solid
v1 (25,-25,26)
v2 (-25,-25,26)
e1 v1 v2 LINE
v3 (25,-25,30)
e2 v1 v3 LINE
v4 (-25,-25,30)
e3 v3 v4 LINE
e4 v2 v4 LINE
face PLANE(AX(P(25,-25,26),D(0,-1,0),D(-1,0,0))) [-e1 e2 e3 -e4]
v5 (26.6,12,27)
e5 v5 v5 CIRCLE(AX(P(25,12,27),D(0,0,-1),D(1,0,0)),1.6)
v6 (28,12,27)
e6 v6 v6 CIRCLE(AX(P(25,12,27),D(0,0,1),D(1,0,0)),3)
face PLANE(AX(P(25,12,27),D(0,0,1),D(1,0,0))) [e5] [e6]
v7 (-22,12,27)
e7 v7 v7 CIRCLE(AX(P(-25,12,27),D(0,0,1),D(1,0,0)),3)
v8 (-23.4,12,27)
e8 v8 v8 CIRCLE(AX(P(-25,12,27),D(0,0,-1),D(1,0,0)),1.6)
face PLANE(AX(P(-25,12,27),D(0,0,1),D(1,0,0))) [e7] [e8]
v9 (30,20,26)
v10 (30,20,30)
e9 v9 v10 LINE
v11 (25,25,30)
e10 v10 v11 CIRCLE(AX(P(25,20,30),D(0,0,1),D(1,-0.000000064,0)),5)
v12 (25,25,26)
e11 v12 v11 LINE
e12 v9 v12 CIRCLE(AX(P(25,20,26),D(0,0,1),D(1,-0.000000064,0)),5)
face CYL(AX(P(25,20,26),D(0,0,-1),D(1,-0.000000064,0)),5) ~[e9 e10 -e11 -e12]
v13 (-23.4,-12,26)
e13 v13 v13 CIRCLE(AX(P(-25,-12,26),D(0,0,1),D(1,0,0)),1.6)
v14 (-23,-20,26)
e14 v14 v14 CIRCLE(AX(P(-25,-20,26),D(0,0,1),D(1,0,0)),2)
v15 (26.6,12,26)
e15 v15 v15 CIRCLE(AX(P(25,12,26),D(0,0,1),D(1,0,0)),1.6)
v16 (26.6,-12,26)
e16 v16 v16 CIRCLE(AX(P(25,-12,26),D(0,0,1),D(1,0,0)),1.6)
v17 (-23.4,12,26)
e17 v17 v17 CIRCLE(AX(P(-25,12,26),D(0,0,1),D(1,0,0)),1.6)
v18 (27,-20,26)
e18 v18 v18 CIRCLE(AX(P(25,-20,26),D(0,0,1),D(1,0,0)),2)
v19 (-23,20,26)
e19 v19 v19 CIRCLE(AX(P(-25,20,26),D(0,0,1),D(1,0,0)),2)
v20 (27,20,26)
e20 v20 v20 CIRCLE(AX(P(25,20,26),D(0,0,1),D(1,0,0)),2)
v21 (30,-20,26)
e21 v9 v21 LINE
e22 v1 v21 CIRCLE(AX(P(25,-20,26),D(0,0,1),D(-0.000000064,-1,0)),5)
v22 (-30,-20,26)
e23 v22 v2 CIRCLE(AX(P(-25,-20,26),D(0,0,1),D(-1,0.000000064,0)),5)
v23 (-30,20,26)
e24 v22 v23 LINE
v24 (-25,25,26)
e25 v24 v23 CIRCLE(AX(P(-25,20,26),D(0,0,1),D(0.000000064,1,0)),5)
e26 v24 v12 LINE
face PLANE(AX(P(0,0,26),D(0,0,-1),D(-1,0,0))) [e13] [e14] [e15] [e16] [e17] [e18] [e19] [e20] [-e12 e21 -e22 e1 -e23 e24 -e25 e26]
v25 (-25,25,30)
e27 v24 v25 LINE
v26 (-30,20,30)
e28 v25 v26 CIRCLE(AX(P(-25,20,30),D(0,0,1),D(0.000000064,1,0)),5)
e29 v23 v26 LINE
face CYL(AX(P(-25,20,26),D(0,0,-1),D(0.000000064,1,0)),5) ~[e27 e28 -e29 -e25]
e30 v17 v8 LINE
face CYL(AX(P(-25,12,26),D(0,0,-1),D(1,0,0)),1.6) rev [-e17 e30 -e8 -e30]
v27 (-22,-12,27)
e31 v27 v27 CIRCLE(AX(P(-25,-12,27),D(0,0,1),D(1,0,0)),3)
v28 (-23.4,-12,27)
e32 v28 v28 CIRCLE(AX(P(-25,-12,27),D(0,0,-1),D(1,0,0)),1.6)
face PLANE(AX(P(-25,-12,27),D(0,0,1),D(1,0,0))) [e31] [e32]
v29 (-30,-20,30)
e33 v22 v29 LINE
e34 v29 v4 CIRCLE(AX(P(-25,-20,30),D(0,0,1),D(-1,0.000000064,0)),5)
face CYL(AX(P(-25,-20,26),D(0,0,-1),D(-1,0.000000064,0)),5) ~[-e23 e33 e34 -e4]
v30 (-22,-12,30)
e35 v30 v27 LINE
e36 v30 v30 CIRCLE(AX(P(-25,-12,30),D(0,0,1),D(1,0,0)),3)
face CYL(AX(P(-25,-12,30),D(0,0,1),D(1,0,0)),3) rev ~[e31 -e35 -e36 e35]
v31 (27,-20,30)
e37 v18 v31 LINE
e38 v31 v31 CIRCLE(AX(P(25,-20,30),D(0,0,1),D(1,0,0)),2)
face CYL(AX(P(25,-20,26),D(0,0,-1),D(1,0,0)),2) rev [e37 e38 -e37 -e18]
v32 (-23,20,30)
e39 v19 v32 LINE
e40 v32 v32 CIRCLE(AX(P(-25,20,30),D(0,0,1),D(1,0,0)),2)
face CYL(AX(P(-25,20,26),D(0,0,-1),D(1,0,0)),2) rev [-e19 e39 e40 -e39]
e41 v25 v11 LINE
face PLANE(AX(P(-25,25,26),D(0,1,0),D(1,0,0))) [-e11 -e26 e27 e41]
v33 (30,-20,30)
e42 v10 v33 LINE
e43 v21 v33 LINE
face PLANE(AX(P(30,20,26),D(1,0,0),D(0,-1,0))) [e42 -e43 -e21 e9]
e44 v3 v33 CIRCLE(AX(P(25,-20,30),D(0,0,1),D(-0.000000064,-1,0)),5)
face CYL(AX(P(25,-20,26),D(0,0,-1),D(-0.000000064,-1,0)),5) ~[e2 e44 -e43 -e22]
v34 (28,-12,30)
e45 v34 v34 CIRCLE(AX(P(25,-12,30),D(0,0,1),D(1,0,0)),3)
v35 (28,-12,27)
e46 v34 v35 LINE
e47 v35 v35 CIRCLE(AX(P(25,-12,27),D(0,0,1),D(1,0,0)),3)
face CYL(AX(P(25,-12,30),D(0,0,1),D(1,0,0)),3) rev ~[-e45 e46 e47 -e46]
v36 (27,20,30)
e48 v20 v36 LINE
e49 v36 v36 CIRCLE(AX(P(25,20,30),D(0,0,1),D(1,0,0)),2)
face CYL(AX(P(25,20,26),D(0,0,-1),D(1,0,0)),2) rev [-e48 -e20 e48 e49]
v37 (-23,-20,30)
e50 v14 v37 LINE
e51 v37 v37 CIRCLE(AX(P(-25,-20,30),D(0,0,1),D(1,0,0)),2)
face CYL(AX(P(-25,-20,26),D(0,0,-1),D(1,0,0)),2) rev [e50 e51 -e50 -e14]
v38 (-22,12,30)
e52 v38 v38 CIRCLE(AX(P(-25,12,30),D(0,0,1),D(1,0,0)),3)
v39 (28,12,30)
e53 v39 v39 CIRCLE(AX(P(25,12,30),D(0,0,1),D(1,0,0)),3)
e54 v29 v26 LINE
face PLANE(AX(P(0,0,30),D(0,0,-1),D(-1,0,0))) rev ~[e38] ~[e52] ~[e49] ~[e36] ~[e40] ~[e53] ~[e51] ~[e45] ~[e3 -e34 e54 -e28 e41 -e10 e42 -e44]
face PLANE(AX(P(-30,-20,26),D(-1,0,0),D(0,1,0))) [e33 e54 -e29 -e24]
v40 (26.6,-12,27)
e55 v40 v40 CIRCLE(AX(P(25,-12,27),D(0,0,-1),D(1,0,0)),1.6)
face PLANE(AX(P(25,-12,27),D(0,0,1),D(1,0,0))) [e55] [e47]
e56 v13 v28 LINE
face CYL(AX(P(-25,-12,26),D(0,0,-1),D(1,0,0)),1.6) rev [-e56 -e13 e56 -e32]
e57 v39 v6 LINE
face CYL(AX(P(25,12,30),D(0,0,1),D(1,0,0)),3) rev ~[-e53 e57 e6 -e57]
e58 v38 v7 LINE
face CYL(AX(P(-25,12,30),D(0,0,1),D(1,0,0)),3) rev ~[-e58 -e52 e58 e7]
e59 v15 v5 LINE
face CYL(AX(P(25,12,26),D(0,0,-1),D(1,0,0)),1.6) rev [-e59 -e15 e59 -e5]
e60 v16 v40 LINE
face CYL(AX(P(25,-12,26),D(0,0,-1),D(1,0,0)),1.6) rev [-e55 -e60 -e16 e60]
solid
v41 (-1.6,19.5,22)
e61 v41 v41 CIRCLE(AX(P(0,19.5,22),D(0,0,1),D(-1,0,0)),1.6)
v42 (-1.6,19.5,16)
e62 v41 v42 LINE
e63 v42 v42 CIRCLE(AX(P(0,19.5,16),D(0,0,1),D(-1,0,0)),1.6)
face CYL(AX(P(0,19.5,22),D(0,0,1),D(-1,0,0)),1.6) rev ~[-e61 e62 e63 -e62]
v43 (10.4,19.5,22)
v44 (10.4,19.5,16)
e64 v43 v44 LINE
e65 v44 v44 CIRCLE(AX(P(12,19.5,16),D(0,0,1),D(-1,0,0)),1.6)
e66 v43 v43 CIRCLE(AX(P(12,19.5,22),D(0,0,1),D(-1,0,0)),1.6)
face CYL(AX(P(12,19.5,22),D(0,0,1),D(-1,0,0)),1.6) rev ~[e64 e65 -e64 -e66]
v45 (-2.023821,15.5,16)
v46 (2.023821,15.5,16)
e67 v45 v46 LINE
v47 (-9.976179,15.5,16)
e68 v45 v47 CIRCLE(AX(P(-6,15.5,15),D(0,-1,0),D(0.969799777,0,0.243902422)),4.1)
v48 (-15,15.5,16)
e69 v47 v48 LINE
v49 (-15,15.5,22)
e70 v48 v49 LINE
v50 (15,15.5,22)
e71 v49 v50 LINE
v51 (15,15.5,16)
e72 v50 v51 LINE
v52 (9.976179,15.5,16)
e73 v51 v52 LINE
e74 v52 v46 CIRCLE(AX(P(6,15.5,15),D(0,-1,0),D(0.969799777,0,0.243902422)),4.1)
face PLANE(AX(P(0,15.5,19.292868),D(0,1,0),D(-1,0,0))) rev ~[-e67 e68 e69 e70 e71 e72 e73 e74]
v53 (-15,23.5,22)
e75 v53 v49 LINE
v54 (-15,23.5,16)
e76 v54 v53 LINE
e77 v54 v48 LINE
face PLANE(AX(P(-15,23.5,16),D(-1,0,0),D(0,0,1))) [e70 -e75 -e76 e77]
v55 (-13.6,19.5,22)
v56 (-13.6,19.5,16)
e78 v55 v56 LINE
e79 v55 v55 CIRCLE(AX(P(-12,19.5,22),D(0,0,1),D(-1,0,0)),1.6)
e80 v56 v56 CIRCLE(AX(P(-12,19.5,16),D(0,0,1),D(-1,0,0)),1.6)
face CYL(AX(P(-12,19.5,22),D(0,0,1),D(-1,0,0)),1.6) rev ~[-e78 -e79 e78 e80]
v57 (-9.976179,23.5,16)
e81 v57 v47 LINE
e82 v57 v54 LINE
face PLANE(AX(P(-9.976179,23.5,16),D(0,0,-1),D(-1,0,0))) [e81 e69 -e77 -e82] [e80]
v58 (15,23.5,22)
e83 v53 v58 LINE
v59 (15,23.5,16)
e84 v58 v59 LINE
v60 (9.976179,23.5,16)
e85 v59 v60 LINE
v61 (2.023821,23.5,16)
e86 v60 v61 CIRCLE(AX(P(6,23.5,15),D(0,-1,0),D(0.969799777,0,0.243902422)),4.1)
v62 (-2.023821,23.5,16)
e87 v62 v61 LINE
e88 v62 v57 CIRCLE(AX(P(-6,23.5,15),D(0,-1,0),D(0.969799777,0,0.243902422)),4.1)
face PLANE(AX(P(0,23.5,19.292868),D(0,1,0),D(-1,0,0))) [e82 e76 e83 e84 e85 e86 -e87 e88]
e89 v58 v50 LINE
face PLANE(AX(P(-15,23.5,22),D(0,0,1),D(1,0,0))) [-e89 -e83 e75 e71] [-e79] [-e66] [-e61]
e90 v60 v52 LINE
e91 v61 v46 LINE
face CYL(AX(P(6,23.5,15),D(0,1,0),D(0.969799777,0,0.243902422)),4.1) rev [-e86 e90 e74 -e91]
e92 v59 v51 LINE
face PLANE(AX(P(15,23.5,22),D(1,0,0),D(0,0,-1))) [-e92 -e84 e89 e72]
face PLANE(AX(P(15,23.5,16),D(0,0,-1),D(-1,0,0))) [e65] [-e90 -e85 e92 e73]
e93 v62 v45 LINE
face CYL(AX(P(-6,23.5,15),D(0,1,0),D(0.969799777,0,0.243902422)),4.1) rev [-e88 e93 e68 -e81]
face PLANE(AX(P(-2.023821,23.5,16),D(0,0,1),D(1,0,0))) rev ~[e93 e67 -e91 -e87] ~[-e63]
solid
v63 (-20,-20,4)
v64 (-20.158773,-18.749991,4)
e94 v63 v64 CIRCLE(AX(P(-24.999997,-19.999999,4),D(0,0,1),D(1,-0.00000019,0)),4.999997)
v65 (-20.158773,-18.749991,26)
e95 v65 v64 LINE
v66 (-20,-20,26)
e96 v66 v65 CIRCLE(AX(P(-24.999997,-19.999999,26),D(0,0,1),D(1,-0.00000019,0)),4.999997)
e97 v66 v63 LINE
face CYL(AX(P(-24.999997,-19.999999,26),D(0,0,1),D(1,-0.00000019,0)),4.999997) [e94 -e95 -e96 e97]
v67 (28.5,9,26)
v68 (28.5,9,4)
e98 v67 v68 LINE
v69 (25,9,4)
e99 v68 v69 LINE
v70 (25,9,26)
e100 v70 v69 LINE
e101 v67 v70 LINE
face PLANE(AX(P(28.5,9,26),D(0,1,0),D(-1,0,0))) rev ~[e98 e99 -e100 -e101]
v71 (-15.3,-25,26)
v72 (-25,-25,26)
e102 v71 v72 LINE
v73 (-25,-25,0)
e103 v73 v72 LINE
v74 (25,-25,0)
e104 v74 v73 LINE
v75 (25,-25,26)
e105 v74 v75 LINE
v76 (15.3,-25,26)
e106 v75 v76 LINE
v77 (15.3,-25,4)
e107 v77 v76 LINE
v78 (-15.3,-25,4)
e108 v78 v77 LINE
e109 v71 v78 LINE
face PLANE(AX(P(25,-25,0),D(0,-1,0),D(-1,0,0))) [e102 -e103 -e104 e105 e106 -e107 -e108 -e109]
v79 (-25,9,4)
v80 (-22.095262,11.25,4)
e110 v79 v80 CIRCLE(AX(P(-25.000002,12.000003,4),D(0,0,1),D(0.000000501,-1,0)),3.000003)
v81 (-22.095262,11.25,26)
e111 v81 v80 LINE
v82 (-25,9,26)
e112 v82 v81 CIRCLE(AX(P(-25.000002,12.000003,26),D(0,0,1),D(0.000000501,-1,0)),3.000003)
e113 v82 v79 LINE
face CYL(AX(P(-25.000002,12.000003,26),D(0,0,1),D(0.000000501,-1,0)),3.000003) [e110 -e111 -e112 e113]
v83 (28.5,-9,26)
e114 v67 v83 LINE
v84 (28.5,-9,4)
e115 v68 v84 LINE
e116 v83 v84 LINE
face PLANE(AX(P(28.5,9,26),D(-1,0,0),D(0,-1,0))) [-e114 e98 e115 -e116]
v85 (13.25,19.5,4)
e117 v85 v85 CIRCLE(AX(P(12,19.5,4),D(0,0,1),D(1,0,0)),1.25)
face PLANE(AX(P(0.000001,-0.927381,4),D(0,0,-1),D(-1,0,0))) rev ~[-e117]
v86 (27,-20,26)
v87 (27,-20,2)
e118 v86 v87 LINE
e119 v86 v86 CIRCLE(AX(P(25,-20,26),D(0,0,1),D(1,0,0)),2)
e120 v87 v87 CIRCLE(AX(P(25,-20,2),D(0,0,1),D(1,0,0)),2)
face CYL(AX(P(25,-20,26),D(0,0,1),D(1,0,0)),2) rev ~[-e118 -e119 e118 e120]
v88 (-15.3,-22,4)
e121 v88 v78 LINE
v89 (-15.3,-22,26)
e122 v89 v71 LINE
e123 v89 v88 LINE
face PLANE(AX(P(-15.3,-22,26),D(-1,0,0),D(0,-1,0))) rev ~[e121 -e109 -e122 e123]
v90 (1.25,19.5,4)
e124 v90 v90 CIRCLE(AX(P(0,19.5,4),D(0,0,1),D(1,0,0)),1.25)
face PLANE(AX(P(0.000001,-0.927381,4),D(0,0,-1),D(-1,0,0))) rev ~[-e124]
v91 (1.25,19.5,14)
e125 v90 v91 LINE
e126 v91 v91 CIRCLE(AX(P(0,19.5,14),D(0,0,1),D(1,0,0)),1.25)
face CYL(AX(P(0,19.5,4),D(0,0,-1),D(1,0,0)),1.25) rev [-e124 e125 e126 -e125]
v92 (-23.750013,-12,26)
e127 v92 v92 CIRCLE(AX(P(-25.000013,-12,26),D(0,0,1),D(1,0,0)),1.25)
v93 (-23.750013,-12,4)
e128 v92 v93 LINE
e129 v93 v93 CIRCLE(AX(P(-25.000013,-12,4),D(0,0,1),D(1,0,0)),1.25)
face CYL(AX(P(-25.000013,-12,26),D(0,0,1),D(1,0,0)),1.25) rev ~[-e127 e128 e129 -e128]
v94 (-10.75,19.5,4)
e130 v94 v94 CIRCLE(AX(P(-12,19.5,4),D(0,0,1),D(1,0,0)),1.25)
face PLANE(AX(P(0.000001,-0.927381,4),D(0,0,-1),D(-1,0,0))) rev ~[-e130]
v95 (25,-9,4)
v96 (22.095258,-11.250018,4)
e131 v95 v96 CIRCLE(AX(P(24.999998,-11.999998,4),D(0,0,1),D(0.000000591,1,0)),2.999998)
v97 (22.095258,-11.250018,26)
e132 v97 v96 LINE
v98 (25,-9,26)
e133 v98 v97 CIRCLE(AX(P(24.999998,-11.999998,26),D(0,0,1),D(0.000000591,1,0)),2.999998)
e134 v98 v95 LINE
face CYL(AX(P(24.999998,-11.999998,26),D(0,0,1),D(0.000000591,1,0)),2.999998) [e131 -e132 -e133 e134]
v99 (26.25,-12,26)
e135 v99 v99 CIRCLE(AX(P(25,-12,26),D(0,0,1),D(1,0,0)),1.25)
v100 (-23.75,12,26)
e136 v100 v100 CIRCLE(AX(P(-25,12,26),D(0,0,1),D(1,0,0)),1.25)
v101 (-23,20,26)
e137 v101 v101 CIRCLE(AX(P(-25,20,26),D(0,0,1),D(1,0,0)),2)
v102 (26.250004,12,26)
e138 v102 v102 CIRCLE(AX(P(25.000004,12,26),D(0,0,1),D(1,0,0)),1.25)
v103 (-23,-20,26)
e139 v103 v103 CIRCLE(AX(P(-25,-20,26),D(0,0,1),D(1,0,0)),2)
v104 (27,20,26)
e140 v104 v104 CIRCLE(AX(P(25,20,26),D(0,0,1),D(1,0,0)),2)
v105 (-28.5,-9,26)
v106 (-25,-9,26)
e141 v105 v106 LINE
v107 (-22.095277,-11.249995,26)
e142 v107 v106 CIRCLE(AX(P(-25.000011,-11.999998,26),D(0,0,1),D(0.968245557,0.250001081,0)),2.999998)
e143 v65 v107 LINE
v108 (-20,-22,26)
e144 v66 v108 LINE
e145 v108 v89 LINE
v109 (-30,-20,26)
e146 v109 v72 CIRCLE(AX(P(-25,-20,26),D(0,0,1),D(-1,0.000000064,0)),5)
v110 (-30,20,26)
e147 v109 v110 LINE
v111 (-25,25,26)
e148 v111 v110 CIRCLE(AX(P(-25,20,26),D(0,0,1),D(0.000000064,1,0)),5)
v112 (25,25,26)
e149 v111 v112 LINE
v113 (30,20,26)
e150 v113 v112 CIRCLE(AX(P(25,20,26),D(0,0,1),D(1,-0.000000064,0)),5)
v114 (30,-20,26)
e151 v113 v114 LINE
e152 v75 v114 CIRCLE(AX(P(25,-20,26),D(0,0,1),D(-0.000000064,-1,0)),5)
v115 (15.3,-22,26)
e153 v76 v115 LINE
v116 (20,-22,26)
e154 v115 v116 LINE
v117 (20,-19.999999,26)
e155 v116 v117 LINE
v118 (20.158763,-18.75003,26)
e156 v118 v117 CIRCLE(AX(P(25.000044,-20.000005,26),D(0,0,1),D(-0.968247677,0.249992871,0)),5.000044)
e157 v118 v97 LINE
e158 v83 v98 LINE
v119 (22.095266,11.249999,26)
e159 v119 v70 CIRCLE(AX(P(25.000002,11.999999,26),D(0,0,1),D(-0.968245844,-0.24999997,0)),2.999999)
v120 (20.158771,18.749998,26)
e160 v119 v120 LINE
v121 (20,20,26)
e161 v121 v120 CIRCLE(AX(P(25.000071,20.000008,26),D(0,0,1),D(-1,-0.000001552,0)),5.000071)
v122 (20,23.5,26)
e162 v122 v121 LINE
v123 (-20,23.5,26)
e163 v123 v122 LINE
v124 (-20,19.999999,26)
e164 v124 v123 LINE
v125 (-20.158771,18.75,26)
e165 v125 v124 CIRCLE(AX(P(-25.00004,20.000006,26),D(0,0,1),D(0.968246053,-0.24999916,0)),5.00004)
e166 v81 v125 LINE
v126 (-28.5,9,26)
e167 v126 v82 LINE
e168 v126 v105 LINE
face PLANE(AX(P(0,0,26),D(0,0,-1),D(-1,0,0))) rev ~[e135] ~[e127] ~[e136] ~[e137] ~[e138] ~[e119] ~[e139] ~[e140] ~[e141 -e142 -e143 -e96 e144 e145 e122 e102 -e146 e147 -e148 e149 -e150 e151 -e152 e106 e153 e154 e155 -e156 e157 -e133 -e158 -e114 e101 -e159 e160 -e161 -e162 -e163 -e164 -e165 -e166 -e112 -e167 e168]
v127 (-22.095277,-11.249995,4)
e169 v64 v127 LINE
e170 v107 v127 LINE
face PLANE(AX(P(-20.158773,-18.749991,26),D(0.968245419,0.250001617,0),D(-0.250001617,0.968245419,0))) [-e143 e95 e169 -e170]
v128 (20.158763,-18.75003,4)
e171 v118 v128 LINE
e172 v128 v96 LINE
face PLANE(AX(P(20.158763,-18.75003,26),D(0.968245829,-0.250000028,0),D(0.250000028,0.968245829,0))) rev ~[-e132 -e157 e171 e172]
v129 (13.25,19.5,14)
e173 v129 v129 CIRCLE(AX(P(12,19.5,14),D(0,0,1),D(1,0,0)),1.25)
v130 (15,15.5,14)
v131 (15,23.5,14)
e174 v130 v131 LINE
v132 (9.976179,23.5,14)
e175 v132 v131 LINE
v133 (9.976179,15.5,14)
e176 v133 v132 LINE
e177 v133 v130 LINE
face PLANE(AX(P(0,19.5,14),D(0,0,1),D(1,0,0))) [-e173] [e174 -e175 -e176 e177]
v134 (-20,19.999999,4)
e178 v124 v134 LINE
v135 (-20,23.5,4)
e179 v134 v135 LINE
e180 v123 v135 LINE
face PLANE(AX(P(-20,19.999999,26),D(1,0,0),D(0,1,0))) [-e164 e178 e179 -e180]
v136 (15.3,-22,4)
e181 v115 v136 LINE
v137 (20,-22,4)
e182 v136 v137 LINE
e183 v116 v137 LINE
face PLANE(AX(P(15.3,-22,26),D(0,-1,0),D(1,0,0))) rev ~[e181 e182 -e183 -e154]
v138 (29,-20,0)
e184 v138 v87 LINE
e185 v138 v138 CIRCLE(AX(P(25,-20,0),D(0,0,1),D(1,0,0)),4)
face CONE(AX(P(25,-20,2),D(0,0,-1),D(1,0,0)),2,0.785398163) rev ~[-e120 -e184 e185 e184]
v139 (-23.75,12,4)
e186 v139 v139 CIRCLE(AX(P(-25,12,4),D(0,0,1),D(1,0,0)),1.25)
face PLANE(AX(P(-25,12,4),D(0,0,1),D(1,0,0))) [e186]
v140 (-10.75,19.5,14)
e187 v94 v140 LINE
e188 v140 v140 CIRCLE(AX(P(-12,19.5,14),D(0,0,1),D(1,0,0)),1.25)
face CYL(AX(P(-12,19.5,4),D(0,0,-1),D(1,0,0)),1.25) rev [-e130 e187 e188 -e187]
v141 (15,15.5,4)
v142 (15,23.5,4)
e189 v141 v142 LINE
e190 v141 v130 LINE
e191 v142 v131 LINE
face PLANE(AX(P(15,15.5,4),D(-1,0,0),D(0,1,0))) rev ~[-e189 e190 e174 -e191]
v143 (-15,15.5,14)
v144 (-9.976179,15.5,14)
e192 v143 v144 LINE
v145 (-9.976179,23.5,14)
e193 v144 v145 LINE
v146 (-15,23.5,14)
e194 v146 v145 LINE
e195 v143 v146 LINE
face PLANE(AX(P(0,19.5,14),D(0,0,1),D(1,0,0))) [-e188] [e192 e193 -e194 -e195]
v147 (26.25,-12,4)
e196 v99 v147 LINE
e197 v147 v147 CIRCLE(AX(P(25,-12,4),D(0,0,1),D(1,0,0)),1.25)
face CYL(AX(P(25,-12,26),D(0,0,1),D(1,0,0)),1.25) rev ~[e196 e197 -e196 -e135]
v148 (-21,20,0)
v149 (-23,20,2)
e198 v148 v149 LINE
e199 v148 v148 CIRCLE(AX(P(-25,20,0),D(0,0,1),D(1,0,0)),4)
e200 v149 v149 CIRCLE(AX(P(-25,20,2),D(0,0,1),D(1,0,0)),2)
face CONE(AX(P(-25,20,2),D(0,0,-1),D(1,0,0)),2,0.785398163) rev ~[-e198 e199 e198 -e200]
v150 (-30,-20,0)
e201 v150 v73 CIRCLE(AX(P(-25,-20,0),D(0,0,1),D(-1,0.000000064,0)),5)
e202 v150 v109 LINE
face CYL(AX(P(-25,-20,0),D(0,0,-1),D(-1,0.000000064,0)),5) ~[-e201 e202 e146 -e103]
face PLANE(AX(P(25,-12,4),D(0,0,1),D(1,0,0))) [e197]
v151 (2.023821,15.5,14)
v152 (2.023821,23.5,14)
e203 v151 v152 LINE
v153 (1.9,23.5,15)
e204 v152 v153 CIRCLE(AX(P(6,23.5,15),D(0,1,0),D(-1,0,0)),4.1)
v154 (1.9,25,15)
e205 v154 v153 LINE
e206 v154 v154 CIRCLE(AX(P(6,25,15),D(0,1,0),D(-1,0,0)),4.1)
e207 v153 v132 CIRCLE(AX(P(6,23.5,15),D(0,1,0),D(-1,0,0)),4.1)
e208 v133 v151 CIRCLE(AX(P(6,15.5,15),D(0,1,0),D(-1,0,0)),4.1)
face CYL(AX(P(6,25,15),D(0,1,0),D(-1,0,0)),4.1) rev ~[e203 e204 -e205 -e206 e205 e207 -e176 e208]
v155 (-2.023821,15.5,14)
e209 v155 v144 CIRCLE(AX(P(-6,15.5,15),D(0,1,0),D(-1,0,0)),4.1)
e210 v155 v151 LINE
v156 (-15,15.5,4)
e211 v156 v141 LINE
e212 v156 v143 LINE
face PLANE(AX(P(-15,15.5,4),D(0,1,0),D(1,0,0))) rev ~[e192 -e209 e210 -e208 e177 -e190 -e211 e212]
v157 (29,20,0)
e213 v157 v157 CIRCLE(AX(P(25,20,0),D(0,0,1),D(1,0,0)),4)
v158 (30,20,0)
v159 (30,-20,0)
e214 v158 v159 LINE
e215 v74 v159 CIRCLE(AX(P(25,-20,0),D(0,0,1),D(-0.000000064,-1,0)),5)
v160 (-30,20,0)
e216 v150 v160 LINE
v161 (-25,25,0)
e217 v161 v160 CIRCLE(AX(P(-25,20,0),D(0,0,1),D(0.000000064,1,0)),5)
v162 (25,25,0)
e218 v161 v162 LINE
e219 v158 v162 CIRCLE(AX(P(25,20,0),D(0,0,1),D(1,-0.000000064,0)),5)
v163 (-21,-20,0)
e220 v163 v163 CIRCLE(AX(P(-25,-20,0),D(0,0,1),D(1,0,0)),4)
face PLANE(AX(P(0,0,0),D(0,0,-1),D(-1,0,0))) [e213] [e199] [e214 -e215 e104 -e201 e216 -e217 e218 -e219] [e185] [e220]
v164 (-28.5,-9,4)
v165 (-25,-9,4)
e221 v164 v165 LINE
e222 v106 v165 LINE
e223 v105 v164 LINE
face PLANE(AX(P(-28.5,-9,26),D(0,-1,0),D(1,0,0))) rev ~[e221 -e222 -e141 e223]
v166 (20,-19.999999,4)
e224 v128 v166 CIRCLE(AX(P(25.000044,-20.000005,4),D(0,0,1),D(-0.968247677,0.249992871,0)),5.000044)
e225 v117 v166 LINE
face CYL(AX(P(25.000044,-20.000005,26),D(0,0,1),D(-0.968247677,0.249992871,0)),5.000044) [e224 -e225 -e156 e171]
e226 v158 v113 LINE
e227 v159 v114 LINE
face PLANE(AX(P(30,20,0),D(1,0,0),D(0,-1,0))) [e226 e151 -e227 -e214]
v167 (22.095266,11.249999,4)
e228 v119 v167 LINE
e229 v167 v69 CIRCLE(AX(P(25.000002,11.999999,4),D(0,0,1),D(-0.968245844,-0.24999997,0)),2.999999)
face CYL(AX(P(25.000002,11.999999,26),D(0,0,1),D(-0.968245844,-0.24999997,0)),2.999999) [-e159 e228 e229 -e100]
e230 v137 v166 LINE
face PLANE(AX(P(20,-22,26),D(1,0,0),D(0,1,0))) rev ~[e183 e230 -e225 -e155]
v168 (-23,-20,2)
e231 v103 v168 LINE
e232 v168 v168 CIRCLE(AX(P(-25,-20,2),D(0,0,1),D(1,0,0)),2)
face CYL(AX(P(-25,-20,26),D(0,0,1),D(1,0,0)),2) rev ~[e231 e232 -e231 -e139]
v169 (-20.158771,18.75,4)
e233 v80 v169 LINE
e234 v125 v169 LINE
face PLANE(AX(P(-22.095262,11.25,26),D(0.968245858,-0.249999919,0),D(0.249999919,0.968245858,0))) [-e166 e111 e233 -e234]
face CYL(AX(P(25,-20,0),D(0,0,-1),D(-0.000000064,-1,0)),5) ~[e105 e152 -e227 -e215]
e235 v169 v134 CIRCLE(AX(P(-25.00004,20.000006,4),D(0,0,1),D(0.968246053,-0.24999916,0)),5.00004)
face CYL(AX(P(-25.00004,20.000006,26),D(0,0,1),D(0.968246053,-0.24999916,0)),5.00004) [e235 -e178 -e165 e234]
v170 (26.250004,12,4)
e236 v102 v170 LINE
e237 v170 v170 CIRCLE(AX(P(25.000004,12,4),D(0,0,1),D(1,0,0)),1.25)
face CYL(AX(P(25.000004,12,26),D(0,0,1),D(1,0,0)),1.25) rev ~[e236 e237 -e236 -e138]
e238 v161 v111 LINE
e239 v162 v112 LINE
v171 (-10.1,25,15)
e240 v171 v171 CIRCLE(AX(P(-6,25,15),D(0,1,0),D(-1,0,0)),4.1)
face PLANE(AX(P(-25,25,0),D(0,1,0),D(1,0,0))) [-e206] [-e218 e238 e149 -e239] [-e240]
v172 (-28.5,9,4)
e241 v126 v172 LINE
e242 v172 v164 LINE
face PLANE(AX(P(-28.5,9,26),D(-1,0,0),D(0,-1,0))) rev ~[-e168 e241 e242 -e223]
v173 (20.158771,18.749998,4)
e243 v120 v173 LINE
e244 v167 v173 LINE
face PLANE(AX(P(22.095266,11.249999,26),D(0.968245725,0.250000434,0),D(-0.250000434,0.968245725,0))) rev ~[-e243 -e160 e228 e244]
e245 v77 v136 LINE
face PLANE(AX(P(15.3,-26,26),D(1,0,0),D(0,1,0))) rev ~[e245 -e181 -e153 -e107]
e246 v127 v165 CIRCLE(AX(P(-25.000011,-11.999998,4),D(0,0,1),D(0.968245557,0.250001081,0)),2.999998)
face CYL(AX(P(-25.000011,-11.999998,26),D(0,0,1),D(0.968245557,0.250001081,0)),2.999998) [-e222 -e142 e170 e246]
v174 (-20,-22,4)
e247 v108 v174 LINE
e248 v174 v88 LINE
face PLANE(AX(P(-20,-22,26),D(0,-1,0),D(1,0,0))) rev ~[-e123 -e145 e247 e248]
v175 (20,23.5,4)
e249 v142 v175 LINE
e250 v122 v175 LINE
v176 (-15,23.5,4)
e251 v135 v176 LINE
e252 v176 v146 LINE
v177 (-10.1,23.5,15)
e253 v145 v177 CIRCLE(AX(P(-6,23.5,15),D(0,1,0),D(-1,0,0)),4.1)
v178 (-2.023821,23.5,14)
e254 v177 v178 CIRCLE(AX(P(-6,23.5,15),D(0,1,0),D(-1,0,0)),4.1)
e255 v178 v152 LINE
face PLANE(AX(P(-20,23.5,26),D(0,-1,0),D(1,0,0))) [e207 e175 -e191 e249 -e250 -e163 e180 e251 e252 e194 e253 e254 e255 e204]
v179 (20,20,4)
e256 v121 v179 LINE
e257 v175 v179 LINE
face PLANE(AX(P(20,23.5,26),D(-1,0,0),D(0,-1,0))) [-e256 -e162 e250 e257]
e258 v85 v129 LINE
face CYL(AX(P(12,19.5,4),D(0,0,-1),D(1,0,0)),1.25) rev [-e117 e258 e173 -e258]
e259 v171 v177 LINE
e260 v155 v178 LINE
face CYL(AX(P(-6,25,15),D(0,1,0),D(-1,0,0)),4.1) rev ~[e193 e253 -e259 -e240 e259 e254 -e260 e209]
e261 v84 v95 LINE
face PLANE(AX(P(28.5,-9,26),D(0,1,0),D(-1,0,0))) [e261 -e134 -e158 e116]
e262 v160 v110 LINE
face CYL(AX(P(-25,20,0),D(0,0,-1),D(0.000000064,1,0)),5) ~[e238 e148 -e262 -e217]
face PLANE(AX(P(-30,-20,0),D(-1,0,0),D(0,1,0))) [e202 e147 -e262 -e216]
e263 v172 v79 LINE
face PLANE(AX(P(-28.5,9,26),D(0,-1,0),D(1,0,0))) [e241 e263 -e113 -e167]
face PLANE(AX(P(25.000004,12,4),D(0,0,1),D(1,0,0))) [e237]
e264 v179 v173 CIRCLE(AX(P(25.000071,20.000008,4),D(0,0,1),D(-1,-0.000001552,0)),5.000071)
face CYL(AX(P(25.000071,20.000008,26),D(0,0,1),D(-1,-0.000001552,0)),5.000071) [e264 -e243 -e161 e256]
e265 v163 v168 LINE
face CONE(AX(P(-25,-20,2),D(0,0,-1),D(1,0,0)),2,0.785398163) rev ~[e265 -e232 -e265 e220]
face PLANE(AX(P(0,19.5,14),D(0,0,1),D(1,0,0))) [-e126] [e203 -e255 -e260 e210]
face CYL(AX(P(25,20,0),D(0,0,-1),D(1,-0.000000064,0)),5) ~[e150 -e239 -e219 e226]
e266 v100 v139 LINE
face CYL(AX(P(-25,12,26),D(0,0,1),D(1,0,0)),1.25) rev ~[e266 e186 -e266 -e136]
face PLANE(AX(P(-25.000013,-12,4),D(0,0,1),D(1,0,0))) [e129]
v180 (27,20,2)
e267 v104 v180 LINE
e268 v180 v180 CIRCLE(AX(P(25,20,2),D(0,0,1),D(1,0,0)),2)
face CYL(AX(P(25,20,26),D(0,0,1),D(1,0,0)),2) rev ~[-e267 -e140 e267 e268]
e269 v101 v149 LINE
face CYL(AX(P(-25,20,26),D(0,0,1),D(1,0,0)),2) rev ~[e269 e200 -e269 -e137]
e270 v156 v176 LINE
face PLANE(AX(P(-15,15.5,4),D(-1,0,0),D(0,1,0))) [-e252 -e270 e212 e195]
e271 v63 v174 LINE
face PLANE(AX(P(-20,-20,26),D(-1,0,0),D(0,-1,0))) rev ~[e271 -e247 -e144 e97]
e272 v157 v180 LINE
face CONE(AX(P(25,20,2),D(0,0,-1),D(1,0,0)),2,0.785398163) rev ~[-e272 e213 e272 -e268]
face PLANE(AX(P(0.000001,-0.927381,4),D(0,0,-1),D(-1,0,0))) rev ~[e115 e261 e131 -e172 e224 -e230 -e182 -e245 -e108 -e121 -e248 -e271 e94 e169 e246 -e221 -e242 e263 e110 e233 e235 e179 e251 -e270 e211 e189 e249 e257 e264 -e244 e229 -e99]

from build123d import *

# Parameters (mm, degrees)
PAD002_DEPTH    = 8
SKETCH006_R     = 1.6
POCKET003_DEPTH = 6.001
SKETCH007_R     = 2
SKETCH007_R_2   = 1.6
PAD003_DEPTH    = 4
SKETCH008_R     = 3
POCKET004_DEPTH = 3
PAD_DEPTH       = 26
SKETCH001_R     = 2
POCKET_DEPTH    = 26.001
SKETCH002_R     = 1.25
POCKET001_DEPTH = 22
SKETCH003_W     = 30
SKETCH003_H     = 8
SKETCH003_R     = 1.25
PAD001_DEPTH    = 10
SKETCH004_R     = 4.1
POCKET002_DEPTH = 11
CHAMFER_SIZE    = 2


with BuildPart() as f_2_screwholes_pocket:
    # Sketch005 → Pad002 (new body)
    with BuildSketch(Plane.XZ.offset(-23.5)):
        with BuildLine():
            ThreePointArc((-2.023821, 16), (-6, 19.1), (-9.976179, 16))
            Line((-9.976179, 16), (-15, 16))
            Line((-15, 16), (-15, 22))
            Line((-15, 22), (15, 22))
            Line((15, 22), (15, 16))
            Line((15, 16), (9.976179, 16))
            ThreePointArc((9.976179, 16), (6, 19.1), (2.023821, 16))
            Line((-2.023821, 16), (2.023821, 16))
        make_face()
    extrude(amount=PAD002_DEPTH)

    # Sketch006 → Pocket003 (cut, through all)
    with BuildSketch(Plane(origin=(0, 23.5, 22), x_dir=(-1, 0, 0), z_dir=(0, 0, 1))):
        with Locations((-12, 4)):
            Circle(SKETCH006_R)
        with Locations((0, 4)):
            Circle(SKETCH006_R)
        with Locations((12, 4)):
            Circle(SKETCH006_R)
    extrude(amount=-POCKET003_DEPTH, mode=Mode.SUBTRACT)


with BuildPart() as f_2_screwcounterborehole_pocket:
    # Sketch007 → Pad003 (new body)
    with BuildSketch(Plane.XY.offset(26)):
        with BuildLine():
            Line((-25, 25), (25, 25))
            ThreePointArc((30, 20), (28.535534, 23.535534), (25, 25))
            Line((30, 20), (30, -20))
            ThreePointArc((25, -25), (28.535534, -23.535534), (30, -20))
            Line((25, -25), (-25, -25))
            ThreePointArc((-30, -20), (-28.535534, -23.535534), (-25, -25))
            Line((-30, -20), (-30, 20))
            ThreePointArc((-25, 25), (-28.535534, 23.535534), (-30, 20))
        make_face()
        with Locations((-25, 20)):
            Circle(SKETCH007_R, mode=Mode.SUBTRACT)
        with Locations((-25, -20)):
            Circle(SKETCH007_R, mode=Mode.SUBTRACT)
        with Locations((25, 20)):
            Circle(SKETCH007_R, mode=Mode.SUBTRACT)
        with Locations((25, -20)):
            Circle(SKETCH007_R, mode=Mode.SUBTRACT)
        with Locations((-25, 12)):
            Circle(SKETCH007_R_2, mode=Mode.SUBTRACT)
        with Locations((25, 12)):
            Circle(SKETCH007_R_2, mode=Mode.SUBTRACT)
        with Locations((-25, -12)):
            Circle(SKETCH007_R_2, mode=Mode.SUBTRACT)
        with Locations((25, -12)):
            Circle(SKETCH007_R_2, mode=Mode.SUBTRACT)
    extrude(amount=PAD003_DEPTH)

    # Sketch008 → Pocket004 (cut)
    with BuildSketch(Plane.XY.offset(30)):
        with Locations((-25, 12)):
            Circle(SKETCH008_R)
        with Locations((-25, -12)):
            Circle(SKETCH008_R)
        with Locations((25, 12)):
            Circle(SKETCH008_R)
        with Locations((25, -12)):
            Circle(SKETCH008_R)
    extrude(amount=-POCKET004_DEPTH, mode=Mode.SUBTRACT)


with BuildPart() as f_6_mountingscrewhead_chamfer:
    # Sketch → Pad (new body)
    with BuildSketch(Plane.XY):
        with BuildLine():
            Line((-25, 25), (25, 25))
            ThreePointArc((30, 20), (28.535534, 23.535534), (25, 25))
            Line((30, 20), (30, -20))
            ThreePointArc((25, -25), (28.535534, -23.535534), (30, -20))
            Line((25, -25), (-25, -25))
            ThreePointArc((-30, -20), (-28.535534, -23.535534), (-25, -25))
            Line((-30, -20), (-30, 20))
            ThreePointArc((-25, 25), (-28.535534, 23.535534), (-30, 20))
        make_face()
    extrude(amount=PAD_DEPTH)

    # Sketch001 → Pocket (cut, through all)
    with BuildSketch(Plane.XY.offset(26)):
        with Locations((-25, 20)):
            Circle(SKETCH001_R)
        with Locations((25, 20)):
            Circle(SKETCH001_R)
        with Locations((-25, -20)):
            Circle(SKETCH001_R)
        with Locations((25, -20)):
            Circle(SKETCH001_R)
    extrude(amount=-POCKET_DEPTH, mode=Mode.SUBTRACT)

    # Sketch002 → Pocket001 (cut)
    with BuildSketch(Plane.XY.offset(26)):
        with Locations((-25, 12)):
            Circle(SKETCH002_R)
        with Locations((25.000004, 12)):
            Circle(SKETCH002_R)
        with Locations((-25.000013, -12)):
            Circle(SKETCH002_R)
        with Locations((25, -12)):
            Circle(SKETCH002_R)
        with BuildLine():
            ThreePointArc((-20.158771, 18.75), (-20.039852, 19.369978), (-20, 19.999999))
            Line((-20, 19.999999), (-20, 23.5))
            Line((-20, 23.5), (20, 23.5))
            Line((20, 23.5), (20, 20))
            ThreePointArc((20, 20), (20.039852, 19.369978), (20.158771, 18.749998))
            Line((22.095266, 11.249999), (20.158771, 18.749998))
            ThreePointArc((22.095266, 11.249999), (23.162885, 9.628292), (25, 9))
            Line((28.5, 9), (25, 9))
            Line((28.5, 9), (28.5, -9))
            Line((28.5, -9), (25, -9))
            ThreePointArc((25, -9), (23.162875, -9.628297), (22.095258, -11.250018))
            Line((20.158763, -18.75003), (22.095258, -11.250018))
            ThreePointArc((20.158763, -18.75003), (20.03985, -19.369993), (20, -19.999999))
            Line((20, -22), (20, -19.999999))
            Line((15.3, -22), (20, -22))
            Line((15.3, -26), (15.3, -22))
            Line((-15.3, -26), (15.3, -26))
            Line((-15.3, -22), (-15.3, -26))
            Line((-20, -22), (-15.3, -22))
            Line((-20, -20), (-20, -22))
            ThreePointArc((-20, -20), (-20.039852, -19.369974), (-20.158773, -18.749991))
            Line((-20.158773, -18.749991), (-22.095277, -11.249995))
            ThreePointArc((-22.095277, -11.249995), (-23.162892, -9.628294), (-25, -9))
            Line((-28.5, -9), (-25, -9))
            Line((-28.5, 9), (-28.5, -9))
            Line((-28.5, 9), (-25, 9))
            ThreePointArc((-25, 9), (-23.162883, 9.628292), (-22.095262, 11.25))
            Line((-22.095262, 11.25), (-20.158771, 18.75))
        make_face()
    extrude(amount=-POCKET001_DEPTH, mode=Mode.SUBTRACT)

    # Sketch003 → Pad001 (new body)
    with BuildSketch(Plane.XY.offset(4)):
        with Locations((0, 19.5)):
            Rectangle(SKETCH003_W, SKETCH003_H)
        with Locations((-12, 19.5)):
            Circle(SKETCH003_R, mode=Mode.SUBTRACT)
        with Locations((12, 19.5)):
            Circle(SKETCH003_R, mode=Mode.SUBTRACT)
        with Locations((0, 19.5)):
            Circle(SKETCH003_R, mode=Mode.SUBTRACT)
    extrude(amount=PAD001_DEPTH)

    # Sketch004 → Pocket002 (cut)
    with BuildSketch(Plane(origin=(0, 25, 0), x_dir=(-1, 0, 0), z_dir=(0, 1, 0))):
        with Locations((-6, 15)):
            Circle(SKETCH004_R)
        with Locations((6, 15)):
            Circle(SKETCH004_R)
    extrude(amount=-POCKET002_DEPTH, mode=Mode.SUBTRACT)

    # Chamfer
    chamfer_edges = [f_6_mountingscrewhead_chamfer.edges().sort_by_distance(p)[0] for p in [
        (-27, 20, 0),
        (23, 20, 0),
        (23, -20, 0),
        (-27, -20, 0),
    ]]
    chamfer(chamfer_edges, length=CHAMFER_SIZE)


solid = Compound([f_2_screwholes_pocket.part, f_2_screwcounterborehole_pocket.part, f_6_mountingscrewhead_chamfer.part])
